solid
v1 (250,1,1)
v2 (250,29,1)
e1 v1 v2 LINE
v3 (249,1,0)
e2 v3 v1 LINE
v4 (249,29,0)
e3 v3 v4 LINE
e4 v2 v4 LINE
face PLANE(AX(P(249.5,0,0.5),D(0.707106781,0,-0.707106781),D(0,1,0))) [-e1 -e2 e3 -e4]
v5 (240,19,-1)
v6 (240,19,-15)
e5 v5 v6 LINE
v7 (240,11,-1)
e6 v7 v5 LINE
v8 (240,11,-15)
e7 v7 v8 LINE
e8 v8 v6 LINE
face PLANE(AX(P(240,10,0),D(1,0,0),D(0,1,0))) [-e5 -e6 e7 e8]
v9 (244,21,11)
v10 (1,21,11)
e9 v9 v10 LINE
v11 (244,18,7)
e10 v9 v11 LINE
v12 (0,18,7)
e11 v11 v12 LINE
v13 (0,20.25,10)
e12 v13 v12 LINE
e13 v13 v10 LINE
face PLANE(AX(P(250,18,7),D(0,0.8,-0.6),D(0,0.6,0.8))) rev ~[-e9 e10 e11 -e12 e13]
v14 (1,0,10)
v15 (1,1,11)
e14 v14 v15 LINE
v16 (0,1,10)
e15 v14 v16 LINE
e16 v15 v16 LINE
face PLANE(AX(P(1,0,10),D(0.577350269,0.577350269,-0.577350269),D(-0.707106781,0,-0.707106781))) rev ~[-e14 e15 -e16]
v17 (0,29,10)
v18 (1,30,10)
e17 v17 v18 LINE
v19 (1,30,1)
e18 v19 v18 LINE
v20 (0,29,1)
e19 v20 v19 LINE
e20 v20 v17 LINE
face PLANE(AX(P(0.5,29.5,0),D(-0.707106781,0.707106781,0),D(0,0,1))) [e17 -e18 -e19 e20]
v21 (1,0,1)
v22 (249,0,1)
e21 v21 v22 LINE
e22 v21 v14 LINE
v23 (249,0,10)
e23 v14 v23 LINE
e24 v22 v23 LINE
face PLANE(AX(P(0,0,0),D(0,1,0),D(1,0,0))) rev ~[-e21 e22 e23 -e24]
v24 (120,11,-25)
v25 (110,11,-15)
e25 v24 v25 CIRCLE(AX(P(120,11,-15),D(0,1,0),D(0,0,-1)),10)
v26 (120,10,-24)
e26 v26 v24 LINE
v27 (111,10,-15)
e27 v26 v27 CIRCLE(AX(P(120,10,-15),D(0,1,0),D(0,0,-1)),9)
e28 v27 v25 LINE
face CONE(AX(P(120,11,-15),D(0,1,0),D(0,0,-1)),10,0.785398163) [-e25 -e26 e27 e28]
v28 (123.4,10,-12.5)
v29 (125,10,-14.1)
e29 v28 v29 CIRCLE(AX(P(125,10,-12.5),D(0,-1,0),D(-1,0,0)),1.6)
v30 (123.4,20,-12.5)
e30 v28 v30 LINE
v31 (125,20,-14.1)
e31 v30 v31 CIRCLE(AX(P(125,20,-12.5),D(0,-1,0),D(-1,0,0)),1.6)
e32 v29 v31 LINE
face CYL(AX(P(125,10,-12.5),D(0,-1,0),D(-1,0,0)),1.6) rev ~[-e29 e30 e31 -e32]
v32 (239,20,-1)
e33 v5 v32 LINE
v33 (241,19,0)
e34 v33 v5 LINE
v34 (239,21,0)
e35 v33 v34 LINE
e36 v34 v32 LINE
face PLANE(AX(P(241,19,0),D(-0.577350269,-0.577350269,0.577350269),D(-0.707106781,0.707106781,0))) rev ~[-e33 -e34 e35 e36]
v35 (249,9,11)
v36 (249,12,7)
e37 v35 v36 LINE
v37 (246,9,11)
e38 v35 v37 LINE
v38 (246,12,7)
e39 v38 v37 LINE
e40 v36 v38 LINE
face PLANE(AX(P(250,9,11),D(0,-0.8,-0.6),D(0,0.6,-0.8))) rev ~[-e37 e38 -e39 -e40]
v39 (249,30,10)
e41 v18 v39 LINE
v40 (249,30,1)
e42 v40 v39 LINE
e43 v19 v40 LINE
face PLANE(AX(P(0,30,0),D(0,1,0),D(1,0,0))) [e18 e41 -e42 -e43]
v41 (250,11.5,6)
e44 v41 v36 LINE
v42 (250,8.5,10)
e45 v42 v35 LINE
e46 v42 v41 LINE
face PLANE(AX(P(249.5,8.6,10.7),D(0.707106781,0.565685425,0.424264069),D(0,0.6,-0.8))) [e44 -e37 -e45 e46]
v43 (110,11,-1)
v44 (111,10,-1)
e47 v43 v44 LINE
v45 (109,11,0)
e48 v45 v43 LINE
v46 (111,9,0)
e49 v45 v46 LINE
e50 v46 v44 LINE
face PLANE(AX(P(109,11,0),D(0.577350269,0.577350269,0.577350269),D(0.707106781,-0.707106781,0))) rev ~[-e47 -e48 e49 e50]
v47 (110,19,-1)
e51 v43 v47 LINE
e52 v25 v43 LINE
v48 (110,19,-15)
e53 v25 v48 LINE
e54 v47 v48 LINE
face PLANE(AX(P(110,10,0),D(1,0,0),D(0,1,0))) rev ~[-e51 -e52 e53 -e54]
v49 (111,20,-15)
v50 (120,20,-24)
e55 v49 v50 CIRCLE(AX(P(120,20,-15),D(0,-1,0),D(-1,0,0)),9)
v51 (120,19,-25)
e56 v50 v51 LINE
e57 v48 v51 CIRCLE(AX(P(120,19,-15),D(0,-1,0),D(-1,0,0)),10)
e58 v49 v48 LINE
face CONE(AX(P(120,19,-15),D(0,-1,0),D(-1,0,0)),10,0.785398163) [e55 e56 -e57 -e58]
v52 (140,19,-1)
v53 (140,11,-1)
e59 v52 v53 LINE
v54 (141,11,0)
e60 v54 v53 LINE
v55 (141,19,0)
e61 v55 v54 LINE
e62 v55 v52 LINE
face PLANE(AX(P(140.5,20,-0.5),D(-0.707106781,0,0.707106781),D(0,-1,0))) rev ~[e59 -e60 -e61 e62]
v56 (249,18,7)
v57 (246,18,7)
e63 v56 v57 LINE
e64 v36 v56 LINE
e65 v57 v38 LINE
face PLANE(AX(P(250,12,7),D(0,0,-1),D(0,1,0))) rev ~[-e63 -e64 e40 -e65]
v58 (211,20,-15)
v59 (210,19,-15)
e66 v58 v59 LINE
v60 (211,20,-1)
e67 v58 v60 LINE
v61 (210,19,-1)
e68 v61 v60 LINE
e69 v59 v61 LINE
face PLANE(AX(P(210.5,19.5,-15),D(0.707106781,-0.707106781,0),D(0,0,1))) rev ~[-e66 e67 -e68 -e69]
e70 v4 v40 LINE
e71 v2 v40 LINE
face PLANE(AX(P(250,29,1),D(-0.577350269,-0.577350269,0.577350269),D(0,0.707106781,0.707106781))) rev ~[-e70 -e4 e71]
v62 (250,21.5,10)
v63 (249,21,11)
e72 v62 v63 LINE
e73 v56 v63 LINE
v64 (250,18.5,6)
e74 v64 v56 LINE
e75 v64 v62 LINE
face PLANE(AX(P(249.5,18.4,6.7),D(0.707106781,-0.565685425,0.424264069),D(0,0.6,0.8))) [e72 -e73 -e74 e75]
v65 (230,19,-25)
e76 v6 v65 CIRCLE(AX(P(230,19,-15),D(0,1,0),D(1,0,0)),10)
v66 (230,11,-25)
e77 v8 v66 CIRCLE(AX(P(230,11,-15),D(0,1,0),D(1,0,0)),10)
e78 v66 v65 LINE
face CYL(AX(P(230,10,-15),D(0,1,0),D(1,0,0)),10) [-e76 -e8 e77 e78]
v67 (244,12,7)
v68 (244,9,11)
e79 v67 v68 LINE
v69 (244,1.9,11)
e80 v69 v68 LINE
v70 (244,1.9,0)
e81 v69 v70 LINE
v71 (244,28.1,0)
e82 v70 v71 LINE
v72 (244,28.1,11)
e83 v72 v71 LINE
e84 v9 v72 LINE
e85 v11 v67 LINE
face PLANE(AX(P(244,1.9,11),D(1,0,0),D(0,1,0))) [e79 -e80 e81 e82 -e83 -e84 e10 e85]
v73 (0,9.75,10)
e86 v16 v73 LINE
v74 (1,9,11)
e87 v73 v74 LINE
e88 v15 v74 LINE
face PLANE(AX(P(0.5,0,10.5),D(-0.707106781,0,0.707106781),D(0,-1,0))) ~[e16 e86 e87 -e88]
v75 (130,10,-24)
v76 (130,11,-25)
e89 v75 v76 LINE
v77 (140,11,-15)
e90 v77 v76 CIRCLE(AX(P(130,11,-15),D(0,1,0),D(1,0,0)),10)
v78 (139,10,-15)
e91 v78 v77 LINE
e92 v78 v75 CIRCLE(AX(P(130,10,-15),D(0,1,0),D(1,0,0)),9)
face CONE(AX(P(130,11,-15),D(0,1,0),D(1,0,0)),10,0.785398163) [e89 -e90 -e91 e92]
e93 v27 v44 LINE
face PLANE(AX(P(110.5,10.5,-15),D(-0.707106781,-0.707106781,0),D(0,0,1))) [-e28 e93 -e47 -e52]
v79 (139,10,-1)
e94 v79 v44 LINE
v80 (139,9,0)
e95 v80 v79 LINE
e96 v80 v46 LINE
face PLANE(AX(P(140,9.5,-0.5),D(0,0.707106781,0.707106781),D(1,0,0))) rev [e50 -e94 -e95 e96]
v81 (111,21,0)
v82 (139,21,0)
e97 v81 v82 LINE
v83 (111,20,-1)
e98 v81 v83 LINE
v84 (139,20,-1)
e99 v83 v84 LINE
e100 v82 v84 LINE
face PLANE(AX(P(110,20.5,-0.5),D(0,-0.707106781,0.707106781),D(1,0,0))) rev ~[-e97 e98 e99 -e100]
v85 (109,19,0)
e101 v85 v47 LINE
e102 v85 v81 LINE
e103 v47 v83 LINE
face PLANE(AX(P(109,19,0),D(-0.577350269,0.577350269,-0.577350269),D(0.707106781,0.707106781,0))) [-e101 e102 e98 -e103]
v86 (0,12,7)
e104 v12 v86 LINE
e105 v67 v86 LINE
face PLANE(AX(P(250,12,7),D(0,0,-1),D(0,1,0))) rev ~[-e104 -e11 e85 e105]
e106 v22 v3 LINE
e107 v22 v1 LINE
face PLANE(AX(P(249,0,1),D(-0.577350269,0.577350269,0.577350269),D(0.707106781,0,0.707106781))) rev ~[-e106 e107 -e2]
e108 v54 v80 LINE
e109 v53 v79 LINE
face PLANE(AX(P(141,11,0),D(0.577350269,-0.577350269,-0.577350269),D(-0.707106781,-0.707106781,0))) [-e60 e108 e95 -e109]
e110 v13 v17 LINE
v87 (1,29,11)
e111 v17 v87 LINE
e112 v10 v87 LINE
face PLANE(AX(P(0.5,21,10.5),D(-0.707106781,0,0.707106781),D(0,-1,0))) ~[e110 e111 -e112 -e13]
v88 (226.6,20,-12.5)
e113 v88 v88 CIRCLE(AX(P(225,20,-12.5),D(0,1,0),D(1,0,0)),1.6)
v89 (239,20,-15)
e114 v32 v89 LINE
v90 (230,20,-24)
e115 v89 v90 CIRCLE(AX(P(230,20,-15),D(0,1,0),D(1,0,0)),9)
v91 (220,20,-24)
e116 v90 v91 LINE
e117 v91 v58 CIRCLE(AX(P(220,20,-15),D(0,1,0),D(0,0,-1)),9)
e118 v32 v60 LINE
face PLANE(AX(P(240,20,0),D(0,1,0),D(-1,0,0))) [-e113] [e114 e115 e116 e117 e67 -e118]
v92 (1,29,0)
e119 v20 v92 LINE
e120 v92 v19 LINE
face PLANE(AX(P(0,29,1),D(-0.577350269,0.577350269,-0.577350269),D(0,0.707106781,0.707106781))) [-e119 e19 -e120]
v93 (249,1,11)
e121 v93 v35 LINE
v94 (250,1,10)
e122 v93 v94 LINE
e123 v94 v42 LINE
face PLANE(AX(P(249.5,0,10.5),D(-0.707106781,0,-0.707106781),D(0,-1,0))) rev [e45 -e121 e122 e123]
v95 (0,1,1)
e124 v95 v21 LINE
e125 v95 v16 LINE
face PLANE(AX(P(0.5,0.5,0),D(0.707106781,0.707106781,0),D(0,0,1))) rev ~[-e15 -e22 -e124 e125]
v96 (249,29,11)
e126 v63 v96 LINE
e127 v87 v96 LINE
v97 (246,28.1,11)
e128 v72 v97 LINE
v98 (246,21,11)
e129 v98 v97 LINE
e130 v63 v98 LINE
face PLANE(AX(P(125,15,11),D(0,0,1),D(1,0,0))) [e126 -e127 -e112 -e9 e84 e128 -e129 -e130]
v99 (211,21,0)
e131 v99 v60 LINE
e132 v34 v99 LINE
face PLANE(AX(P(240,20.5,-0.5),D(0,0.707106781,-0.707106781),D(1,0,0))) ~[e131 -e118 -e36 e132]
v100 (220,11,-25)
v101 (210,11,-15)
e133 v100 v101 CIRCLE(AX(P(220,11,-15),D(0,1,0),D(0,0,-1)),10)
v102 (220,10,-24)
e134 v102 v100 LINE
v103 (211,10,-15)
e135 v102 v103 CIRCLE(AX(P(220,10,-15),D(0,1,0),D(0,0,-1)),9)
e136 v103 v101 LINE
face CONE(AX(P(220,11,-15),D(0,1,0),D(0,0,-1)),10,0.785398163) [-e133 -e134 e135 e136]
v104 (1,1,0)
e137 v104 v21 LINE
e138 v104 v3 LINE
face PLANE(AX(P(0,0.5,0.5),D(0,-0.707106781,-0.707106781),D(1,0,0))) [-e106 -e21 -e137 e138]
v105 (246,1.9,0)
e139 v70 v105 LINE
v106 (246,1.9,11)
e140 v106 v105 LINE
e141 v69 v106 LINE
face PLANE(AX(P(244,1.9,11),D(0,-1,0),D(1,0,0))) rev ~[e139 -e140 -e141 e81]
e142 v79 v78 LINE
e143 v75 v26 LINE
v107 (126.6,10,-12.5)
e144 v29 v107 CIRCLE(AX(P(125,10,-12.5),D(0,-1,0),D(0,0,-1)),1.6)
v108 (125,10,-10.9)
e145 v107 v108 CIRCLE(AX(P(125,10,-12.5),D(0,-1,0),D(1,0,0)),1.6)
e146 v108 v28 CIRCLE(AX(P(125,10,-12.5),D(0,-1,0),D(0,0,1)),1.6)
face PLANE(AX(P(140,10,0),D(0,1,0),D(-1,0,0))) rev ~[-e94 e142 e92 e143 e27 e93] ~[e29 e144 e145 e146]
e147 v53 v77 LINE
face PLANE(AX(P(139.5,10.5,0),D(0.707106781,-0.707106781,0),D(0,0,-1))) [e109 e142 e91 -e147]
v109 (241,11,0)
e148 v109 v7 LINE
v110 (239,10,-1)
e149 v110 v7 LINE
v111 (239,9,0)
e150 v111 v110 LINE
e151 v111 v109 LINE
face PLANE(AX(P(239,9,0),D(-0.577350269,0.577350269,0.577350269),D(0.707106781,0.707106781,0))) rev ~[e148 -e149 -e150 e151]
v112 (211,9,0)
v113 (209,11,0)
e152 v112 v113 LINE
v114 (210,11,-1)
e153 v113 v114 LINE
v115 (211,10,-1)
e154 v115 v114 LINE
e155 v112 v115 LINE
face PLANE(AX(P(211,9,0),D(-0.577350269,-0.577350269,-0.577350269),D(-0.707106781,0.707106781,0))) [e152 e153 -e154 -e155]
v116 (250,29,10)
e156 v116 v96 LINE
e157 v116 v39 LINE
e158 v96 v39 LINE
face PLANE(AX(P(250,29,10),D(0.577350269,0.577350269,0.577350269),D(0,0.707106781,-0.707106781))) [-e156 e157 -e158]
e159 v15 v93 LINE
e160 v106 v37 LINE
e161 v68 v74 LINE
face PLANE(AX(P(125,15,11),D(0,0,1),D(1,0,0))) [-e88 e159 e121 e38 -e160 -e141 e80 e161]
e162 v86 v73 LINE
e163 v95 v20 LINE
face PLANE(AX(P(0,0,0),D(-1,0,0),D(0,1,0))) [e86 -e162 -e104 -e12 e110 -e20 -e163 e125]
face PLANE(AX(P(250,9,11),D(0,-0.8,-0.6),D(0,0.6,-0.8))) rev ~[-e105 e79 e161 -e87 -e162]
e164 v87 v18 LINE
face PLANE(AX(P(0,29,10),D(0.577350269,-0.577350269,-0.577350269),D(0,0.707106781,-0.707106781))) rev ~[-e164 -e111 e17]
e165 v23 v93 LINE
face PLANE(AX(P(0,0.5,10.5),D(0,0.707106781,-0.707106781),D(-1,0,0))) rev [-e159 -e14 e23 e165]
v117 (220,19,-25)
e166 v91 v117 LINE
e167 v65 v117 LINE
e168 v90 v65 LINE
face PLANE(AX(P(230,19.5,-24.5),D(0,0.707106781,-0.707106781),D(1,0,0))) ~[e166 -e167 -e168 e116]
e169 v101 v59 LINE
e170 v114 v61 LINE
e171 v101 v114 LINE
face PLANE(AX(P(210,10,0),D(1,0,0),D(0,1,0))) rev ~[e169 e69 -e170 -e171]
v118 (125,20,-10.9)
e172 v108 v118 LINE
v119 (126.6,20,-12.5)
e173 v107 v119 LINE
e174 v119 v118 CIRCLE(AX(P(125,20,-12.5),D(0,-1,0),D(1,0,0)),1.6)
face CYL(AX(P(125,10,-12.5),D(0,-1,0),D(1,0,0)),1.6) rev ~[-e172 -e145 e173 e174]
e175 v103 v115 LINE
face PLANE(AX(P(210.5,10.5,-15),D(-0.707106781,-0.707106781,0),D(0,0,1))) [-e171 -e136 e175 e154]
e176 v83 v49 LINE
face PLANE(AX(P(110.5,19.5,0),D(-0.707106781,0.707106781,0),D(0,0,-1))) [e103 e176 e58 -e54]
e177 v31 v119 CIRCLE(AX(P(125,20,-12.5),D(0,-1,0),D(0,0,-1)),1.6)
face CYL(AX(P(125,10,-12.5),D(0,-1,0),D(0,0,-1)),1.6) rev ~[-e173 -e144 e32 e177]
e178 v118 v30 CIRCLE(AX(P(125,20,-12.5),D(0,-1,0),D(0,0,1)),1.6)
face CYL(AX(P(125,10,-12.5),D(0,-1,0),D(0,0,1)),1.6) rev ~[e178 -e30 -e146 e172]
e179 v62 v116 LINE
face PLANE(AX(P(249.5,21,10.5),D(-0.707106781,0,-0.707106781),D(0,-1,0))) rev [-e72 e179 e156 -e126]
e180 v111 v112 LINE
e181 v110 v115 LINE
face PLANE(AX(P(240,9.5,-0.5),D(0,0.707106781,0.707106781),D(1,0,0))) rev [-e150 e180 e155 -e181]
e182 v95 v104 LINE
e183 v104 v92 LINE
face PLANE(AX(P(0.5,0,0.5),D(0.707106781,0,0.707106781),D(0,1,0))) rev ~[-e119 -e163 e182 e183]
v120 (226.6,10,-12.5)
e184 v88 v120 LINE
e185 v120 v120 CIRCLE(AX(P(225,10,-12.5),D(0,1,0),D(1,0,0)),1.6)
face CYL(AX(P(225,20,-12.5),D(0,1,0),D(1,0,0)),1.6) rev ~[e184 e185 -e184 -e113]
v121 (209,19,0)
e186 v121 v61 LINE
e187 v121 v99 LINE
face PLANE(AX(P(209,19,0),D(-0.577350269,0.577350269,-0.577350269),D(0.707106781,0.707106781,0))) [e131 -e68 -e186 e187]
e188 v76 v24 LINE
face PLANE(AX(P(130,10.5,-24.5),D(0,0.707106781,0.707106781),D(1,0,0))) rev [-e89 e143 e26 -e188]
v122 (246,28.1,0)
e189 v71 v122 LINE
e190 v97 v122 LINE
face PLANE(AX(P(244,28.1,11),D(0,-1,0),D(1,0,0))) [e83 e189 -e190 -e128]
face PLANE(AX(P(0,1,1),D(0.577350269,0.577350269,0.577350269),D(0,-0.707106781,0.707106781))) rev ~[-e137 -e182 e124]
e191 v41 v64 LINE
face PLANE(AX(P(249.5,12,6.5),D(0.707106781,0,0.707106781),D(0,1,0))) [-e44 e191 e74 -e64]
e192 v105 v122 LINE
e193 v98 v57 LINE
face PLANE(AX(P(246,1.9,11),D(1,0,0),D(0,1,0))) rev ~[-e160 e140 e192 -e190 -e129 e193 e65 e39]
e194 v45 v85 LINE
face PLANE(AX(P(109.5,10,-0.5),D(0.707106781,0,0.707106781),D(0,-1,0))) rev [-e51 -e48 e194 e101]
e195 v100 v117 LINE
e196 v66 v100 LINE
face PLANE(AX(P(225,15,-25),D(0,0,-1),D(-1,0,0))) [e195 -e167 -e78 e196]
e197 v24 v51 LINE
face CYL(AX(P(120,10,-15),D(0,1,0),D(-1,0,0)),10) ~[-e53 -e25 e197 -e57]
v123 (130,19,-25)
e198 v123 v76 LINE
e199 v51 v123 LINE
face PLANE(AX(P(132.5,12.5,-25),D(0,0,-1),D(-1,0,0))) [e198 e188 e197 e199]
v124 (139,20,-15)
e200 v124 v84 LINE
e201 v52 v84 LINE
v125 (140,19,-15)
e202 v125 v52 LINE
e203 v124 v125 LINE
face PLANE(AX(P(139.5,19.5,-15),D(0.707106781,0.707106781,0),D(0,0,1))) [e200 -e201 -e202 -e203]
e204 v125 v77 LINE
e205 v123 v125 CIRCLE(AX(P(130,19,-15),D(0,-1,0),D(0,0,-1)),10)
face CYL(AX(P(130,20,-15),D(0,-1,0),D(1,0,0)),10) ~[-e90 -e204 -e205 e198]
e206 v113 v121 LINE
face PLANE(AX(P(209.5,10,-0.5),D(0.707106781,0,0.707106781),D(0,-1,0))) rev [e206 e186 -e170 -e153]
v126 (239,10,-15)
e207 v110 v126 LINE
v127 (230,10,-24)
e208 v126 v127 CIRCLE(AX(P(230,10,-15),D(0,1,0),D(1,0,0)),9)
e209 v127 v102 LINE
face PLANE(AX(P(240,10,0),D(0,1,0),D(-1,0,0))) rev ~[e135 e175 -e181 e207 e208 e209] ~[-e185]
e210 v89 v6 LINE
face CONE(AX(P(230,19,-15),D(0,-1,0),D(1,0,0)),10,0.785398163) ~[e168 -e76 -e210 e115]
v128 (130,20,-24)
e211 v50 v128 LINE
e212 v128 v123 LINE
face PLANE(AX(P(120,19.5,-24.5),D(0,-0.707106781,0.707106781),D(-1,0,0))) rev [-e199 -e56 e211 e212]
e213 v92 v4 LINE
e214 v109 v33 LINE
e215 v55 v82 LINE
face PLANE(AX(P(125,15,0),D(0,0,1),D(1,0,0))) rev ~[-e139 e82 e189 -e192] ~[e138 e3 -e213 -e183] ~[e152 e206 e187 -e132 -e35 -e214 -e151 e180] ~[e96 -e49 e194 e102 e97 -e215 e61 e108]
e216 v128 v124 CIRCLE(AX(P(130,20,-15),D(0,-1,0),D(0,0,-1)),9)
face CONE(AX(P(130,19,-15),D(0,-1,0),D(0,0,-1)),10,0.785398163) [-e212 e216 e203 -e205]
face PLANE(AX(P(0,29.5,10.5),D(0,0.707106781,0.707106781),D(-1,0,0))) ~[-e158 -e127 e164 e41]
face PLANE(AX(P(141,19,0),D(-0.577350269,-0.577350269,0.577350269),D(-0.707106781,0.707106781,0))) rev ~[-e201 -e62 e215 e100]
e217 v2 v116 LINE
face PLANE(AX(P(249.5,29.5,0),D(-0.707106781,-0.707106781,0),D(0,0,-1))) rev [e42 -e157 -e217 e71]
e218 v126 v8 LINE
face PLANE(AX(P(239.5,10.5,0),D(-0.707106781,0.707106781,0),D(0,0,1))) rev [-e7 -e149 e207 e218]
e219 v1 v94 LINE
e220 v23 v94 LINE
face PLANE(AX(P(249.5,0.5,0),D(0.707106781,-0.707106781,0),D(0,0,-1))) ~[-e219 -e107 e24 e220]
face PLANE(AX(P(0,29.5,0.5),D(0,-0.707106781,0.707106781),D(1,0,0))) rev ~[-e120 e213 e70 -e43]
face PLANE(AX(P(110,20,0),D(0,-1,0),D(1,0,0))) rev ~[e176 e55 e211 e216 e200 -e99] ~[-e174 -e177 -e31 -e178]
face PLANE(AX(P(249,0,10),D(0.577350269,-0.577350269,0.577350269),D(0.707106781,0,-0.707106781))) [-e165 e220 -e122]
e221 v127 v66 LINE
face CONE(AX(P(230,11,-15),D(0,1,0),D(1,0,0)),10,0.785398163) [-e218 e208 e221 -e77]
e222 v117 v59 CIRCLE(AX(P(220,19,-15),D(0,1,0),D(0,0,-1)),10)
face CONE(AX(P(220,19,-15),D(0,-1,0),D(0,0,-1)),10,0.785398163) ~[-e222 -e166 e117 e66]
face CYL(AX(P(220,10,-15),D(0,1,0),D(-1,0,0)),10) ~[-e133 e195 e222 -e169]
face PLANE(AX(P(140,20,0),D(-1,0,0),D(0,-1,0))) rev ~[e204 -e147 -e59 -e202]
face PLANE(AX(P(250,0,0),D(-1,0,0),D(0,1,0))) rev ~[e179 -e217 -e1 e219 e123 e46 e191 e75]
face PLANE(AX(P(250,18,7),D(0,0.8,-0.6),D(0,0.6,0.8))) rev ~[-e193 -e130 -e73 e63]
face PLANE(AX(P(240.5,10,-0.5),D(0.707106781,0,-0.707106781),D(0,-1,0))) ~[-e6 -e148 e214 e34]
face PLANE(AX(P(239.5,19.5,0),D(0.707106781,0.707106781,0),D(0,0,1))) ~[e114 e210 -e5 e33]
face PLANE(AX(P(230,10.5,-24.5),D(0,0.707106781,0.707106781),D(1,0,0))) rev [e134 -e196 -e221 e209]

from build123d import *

# Parameters (mm, degrees)
SKETCH_1_W          = 250
SKETCH_1_H          = 30
EXTRUDE_1_DEPTH     = 11
SKETCH_4_W          = 15
SKETCH_4_H          = 5
EXTRUDE_2_DEPTH     = 25
CUT_EXTRUDE_2_DEPTH = 251
CUT_EXTRUDE_3_DEPTH = 21
SKETCH_11_W         = 30
SKETCH_11_H         = 10
EXTRUDE_4_DEPTH     = 25
SKETCH_12_R         = 1.6
CUT_EXTRUDE_5_DEPTH = 21
FILLET_1_R          = 10
SKETCH_13_W         = 2
SKETCH_13_H         = 26.2
CUT_EXTRUDE_6_DEPTH = 37
CHAMFER_1_SIZE      = 1


with BuildPart() as part:
    # 草圖1 → 填料-伸長1 (new body)
    with BuildSketch(Plane.XY):
        with Locations((125, 15)):
            Rectangle(SKETCH_1_W, SKETCH_1_H)
    extrude(amount=EXTRUDE_1_DEPTH)

    # 草圖4 → 填料-伸長2 (add)
    with BuildSketch(Plane(origin=(0, 0, 0), x_dir=(-1, 0, 0), z_dir=(0, 0, -1))):
        with Locations((-132.5, 12.5)):
            Rectangle(SKETCH_4_W, SKETCH_4_H)
        with Locations((-132.5, 17.5)):
            Rectangle(SKETCH_4_W, SKETCH_4_H)
        with Locations((-117.5, 17.5)):
            Rectangle(SKETCH_4_W, SKETCH_4_H)
        with Locations((-117.5, 12.5)):
            Rectangle(SKETCH_4_W, SKETCH_4_H)
    extrude(amount=EXTRUDE_2_DEPTH)

    # 草圖5 → 除料-伸長2 (cut, through all)
    with BuildSketch(Plane(origin=(250, 0, 0), x_dir=(0, 0, -1), z_dir=(1, 0, 0))):
        Polygon((-11, 15), (-7, 15), (-7, 18), (-11, 21), align=None)
        Polygon((-7, 12), (-7, 15), (-11, 15), (-11, 9), align=None)
    extrude(amount=-CUT_EXTRUDE_2_DEPTH, mode=Mode.SUBTRACT)

    # 草圖6 → 除料-伸長3 (cut, through all)
    with BuildSketch(Plane.XZ.offset(-10)):
        with BuildLine():
            ThreePointArc((126.6, -12.5), (126.13137085, -11.36862915), (125, -10.9))
            Line((125, -10.9), (125, -12.5))
            Line((125, -12.5), (126.6, -12.5))
        make_face()
        with BuildLine():
            Line((125, -12.5), (125, -10.9))
            ThreePointArc((125, -10.9), (123.86862915, -11.36862915), (123.4, -12.5))
            Line((123.4, -12.5), (125, -12.5))
        make_face()
        with BuildLine():
            Line((126.6, -12.5), (125, -12.5))
            Line((125, -12.5), (125, -14.1))
            ThreePointArc((125, -14.1), (126.13137085, -13.63137085), (126.6, -12.5))
        make_face()
        with BuildLine():
            Line((125, -14.1), (125, -12.5))
            Line((125, -12.5), (123.4, -12.5))
            ThreePointArc((123.4, -12.5), (123.86862915, -13.63137085), (125, -14.1))
        make_face()
    extrude(amount=-CUT_EXTRUDE_3_DEPTH, mode=Mode.SUBTRACT)

    # 草圖11 → 填料-伸長4 (add)
    with BuildSketch(Plane(origin=(0, 0, 0), x_dir=(-1, 0, 0), z_dir=(0, 0, -1))):
        with Locations((-225, 15)):
            Rectangle(SKETCH_11_W, SKETCH_11_H)
    extrude(amount=EXTRUDE_4_DEPTH)

    # 草圖12 → 除料-伸長5 (cut, through all)
    with BuildSketch(Plane(origin=(0, 20, 0), x_dir=(1, 0, 0), z_dir=(0, 1, 0))):
        with Locations((225, 12.5)):
            Circle(SKETCH_12_R)
    extrude(amount=-CUT_EXTRUDE_5_DEPTH, mode=Mode.SUBTRACT)

    # 圓角1
    fillet_1_edges = [part.edges().sort_by_distance(p)[0] for p in [
        (110, 15, -25),
        (140, 15, -25),
        (240, 15, -25),
        (210, 15, -25),
    ]]
    fillet(fillet_1_edges, radius=FILLET_1_R)

    # 草圖13 → 除料-伸長6 (cut, through all)
    with BuildSketch(Plane.XY.offset(11)):
        with Locations((245, 15)):
            Rectangle(SKETCH_13_W, SKETCH_13_H)
    extrude(amount=-CUT_EXTRUDE_6_DEPTH, mode=Mode.SUBTRACT)

    # 導角1
    chamfer_1_edges = [part.edges().sort_by_distance(p)[0] for p in [
        (250, 4.5, 11),
        (125, 30, 11),
        (110, 15, 0),
        (140, 15, 0),
        (125, 10, 0),
        (125, 20, 0),
        (0, 4.5, 11),
        (250, 25.5, 11),
        (250, 10.5, 9),
        (250, 15, 7),
        (250, 19.5, 9),
        (0, 25.5, 11),
        (125, 30, 0),
        (250, 15, 0),
        (125, 0, 0),
        (225, 10, 0),
        (210, 15, 0),
        (0, 15, 0),
        (240, 15, 0),
        (225, 20, 0),
        (125, 0, 11),
        (125, 20, -25),
        (125, 10, -25),
        (0, 30, 5.5),
        (250, 30, 5.5),
        (140, 20, -7.5),
        (110, 20, -7.5),
        (137.071067812, 20, -22.071067812),
        (250, 0, 5.5),
        (112.928932188, 20, -22.071067812),
        (110, 10, -7.5),
        (0, 0, 5.5),
        (140, 10, -7.5),
        (137.071067812, 10, -22.071067812),
        (112.928932188, 10, -22.071067812),
        (225, 10, -25),
        (225, 20, -25),
        (240, 20, -7.5),
        (210, 20, -7.5),
        (237.071067812, 20, -22.071067812),
        (212.928932188, 20, -22.071067812),
        (210, 10, -7.5),
        (240, 10, -7.5),
        (237.071067812, 10, -22.071067812),
        (212.928932188, 10, -22.071067812),
    ]]
    chamfer(chamfer_1_edges, length=CHAMFER_1_SIZE)


solid = part.part
